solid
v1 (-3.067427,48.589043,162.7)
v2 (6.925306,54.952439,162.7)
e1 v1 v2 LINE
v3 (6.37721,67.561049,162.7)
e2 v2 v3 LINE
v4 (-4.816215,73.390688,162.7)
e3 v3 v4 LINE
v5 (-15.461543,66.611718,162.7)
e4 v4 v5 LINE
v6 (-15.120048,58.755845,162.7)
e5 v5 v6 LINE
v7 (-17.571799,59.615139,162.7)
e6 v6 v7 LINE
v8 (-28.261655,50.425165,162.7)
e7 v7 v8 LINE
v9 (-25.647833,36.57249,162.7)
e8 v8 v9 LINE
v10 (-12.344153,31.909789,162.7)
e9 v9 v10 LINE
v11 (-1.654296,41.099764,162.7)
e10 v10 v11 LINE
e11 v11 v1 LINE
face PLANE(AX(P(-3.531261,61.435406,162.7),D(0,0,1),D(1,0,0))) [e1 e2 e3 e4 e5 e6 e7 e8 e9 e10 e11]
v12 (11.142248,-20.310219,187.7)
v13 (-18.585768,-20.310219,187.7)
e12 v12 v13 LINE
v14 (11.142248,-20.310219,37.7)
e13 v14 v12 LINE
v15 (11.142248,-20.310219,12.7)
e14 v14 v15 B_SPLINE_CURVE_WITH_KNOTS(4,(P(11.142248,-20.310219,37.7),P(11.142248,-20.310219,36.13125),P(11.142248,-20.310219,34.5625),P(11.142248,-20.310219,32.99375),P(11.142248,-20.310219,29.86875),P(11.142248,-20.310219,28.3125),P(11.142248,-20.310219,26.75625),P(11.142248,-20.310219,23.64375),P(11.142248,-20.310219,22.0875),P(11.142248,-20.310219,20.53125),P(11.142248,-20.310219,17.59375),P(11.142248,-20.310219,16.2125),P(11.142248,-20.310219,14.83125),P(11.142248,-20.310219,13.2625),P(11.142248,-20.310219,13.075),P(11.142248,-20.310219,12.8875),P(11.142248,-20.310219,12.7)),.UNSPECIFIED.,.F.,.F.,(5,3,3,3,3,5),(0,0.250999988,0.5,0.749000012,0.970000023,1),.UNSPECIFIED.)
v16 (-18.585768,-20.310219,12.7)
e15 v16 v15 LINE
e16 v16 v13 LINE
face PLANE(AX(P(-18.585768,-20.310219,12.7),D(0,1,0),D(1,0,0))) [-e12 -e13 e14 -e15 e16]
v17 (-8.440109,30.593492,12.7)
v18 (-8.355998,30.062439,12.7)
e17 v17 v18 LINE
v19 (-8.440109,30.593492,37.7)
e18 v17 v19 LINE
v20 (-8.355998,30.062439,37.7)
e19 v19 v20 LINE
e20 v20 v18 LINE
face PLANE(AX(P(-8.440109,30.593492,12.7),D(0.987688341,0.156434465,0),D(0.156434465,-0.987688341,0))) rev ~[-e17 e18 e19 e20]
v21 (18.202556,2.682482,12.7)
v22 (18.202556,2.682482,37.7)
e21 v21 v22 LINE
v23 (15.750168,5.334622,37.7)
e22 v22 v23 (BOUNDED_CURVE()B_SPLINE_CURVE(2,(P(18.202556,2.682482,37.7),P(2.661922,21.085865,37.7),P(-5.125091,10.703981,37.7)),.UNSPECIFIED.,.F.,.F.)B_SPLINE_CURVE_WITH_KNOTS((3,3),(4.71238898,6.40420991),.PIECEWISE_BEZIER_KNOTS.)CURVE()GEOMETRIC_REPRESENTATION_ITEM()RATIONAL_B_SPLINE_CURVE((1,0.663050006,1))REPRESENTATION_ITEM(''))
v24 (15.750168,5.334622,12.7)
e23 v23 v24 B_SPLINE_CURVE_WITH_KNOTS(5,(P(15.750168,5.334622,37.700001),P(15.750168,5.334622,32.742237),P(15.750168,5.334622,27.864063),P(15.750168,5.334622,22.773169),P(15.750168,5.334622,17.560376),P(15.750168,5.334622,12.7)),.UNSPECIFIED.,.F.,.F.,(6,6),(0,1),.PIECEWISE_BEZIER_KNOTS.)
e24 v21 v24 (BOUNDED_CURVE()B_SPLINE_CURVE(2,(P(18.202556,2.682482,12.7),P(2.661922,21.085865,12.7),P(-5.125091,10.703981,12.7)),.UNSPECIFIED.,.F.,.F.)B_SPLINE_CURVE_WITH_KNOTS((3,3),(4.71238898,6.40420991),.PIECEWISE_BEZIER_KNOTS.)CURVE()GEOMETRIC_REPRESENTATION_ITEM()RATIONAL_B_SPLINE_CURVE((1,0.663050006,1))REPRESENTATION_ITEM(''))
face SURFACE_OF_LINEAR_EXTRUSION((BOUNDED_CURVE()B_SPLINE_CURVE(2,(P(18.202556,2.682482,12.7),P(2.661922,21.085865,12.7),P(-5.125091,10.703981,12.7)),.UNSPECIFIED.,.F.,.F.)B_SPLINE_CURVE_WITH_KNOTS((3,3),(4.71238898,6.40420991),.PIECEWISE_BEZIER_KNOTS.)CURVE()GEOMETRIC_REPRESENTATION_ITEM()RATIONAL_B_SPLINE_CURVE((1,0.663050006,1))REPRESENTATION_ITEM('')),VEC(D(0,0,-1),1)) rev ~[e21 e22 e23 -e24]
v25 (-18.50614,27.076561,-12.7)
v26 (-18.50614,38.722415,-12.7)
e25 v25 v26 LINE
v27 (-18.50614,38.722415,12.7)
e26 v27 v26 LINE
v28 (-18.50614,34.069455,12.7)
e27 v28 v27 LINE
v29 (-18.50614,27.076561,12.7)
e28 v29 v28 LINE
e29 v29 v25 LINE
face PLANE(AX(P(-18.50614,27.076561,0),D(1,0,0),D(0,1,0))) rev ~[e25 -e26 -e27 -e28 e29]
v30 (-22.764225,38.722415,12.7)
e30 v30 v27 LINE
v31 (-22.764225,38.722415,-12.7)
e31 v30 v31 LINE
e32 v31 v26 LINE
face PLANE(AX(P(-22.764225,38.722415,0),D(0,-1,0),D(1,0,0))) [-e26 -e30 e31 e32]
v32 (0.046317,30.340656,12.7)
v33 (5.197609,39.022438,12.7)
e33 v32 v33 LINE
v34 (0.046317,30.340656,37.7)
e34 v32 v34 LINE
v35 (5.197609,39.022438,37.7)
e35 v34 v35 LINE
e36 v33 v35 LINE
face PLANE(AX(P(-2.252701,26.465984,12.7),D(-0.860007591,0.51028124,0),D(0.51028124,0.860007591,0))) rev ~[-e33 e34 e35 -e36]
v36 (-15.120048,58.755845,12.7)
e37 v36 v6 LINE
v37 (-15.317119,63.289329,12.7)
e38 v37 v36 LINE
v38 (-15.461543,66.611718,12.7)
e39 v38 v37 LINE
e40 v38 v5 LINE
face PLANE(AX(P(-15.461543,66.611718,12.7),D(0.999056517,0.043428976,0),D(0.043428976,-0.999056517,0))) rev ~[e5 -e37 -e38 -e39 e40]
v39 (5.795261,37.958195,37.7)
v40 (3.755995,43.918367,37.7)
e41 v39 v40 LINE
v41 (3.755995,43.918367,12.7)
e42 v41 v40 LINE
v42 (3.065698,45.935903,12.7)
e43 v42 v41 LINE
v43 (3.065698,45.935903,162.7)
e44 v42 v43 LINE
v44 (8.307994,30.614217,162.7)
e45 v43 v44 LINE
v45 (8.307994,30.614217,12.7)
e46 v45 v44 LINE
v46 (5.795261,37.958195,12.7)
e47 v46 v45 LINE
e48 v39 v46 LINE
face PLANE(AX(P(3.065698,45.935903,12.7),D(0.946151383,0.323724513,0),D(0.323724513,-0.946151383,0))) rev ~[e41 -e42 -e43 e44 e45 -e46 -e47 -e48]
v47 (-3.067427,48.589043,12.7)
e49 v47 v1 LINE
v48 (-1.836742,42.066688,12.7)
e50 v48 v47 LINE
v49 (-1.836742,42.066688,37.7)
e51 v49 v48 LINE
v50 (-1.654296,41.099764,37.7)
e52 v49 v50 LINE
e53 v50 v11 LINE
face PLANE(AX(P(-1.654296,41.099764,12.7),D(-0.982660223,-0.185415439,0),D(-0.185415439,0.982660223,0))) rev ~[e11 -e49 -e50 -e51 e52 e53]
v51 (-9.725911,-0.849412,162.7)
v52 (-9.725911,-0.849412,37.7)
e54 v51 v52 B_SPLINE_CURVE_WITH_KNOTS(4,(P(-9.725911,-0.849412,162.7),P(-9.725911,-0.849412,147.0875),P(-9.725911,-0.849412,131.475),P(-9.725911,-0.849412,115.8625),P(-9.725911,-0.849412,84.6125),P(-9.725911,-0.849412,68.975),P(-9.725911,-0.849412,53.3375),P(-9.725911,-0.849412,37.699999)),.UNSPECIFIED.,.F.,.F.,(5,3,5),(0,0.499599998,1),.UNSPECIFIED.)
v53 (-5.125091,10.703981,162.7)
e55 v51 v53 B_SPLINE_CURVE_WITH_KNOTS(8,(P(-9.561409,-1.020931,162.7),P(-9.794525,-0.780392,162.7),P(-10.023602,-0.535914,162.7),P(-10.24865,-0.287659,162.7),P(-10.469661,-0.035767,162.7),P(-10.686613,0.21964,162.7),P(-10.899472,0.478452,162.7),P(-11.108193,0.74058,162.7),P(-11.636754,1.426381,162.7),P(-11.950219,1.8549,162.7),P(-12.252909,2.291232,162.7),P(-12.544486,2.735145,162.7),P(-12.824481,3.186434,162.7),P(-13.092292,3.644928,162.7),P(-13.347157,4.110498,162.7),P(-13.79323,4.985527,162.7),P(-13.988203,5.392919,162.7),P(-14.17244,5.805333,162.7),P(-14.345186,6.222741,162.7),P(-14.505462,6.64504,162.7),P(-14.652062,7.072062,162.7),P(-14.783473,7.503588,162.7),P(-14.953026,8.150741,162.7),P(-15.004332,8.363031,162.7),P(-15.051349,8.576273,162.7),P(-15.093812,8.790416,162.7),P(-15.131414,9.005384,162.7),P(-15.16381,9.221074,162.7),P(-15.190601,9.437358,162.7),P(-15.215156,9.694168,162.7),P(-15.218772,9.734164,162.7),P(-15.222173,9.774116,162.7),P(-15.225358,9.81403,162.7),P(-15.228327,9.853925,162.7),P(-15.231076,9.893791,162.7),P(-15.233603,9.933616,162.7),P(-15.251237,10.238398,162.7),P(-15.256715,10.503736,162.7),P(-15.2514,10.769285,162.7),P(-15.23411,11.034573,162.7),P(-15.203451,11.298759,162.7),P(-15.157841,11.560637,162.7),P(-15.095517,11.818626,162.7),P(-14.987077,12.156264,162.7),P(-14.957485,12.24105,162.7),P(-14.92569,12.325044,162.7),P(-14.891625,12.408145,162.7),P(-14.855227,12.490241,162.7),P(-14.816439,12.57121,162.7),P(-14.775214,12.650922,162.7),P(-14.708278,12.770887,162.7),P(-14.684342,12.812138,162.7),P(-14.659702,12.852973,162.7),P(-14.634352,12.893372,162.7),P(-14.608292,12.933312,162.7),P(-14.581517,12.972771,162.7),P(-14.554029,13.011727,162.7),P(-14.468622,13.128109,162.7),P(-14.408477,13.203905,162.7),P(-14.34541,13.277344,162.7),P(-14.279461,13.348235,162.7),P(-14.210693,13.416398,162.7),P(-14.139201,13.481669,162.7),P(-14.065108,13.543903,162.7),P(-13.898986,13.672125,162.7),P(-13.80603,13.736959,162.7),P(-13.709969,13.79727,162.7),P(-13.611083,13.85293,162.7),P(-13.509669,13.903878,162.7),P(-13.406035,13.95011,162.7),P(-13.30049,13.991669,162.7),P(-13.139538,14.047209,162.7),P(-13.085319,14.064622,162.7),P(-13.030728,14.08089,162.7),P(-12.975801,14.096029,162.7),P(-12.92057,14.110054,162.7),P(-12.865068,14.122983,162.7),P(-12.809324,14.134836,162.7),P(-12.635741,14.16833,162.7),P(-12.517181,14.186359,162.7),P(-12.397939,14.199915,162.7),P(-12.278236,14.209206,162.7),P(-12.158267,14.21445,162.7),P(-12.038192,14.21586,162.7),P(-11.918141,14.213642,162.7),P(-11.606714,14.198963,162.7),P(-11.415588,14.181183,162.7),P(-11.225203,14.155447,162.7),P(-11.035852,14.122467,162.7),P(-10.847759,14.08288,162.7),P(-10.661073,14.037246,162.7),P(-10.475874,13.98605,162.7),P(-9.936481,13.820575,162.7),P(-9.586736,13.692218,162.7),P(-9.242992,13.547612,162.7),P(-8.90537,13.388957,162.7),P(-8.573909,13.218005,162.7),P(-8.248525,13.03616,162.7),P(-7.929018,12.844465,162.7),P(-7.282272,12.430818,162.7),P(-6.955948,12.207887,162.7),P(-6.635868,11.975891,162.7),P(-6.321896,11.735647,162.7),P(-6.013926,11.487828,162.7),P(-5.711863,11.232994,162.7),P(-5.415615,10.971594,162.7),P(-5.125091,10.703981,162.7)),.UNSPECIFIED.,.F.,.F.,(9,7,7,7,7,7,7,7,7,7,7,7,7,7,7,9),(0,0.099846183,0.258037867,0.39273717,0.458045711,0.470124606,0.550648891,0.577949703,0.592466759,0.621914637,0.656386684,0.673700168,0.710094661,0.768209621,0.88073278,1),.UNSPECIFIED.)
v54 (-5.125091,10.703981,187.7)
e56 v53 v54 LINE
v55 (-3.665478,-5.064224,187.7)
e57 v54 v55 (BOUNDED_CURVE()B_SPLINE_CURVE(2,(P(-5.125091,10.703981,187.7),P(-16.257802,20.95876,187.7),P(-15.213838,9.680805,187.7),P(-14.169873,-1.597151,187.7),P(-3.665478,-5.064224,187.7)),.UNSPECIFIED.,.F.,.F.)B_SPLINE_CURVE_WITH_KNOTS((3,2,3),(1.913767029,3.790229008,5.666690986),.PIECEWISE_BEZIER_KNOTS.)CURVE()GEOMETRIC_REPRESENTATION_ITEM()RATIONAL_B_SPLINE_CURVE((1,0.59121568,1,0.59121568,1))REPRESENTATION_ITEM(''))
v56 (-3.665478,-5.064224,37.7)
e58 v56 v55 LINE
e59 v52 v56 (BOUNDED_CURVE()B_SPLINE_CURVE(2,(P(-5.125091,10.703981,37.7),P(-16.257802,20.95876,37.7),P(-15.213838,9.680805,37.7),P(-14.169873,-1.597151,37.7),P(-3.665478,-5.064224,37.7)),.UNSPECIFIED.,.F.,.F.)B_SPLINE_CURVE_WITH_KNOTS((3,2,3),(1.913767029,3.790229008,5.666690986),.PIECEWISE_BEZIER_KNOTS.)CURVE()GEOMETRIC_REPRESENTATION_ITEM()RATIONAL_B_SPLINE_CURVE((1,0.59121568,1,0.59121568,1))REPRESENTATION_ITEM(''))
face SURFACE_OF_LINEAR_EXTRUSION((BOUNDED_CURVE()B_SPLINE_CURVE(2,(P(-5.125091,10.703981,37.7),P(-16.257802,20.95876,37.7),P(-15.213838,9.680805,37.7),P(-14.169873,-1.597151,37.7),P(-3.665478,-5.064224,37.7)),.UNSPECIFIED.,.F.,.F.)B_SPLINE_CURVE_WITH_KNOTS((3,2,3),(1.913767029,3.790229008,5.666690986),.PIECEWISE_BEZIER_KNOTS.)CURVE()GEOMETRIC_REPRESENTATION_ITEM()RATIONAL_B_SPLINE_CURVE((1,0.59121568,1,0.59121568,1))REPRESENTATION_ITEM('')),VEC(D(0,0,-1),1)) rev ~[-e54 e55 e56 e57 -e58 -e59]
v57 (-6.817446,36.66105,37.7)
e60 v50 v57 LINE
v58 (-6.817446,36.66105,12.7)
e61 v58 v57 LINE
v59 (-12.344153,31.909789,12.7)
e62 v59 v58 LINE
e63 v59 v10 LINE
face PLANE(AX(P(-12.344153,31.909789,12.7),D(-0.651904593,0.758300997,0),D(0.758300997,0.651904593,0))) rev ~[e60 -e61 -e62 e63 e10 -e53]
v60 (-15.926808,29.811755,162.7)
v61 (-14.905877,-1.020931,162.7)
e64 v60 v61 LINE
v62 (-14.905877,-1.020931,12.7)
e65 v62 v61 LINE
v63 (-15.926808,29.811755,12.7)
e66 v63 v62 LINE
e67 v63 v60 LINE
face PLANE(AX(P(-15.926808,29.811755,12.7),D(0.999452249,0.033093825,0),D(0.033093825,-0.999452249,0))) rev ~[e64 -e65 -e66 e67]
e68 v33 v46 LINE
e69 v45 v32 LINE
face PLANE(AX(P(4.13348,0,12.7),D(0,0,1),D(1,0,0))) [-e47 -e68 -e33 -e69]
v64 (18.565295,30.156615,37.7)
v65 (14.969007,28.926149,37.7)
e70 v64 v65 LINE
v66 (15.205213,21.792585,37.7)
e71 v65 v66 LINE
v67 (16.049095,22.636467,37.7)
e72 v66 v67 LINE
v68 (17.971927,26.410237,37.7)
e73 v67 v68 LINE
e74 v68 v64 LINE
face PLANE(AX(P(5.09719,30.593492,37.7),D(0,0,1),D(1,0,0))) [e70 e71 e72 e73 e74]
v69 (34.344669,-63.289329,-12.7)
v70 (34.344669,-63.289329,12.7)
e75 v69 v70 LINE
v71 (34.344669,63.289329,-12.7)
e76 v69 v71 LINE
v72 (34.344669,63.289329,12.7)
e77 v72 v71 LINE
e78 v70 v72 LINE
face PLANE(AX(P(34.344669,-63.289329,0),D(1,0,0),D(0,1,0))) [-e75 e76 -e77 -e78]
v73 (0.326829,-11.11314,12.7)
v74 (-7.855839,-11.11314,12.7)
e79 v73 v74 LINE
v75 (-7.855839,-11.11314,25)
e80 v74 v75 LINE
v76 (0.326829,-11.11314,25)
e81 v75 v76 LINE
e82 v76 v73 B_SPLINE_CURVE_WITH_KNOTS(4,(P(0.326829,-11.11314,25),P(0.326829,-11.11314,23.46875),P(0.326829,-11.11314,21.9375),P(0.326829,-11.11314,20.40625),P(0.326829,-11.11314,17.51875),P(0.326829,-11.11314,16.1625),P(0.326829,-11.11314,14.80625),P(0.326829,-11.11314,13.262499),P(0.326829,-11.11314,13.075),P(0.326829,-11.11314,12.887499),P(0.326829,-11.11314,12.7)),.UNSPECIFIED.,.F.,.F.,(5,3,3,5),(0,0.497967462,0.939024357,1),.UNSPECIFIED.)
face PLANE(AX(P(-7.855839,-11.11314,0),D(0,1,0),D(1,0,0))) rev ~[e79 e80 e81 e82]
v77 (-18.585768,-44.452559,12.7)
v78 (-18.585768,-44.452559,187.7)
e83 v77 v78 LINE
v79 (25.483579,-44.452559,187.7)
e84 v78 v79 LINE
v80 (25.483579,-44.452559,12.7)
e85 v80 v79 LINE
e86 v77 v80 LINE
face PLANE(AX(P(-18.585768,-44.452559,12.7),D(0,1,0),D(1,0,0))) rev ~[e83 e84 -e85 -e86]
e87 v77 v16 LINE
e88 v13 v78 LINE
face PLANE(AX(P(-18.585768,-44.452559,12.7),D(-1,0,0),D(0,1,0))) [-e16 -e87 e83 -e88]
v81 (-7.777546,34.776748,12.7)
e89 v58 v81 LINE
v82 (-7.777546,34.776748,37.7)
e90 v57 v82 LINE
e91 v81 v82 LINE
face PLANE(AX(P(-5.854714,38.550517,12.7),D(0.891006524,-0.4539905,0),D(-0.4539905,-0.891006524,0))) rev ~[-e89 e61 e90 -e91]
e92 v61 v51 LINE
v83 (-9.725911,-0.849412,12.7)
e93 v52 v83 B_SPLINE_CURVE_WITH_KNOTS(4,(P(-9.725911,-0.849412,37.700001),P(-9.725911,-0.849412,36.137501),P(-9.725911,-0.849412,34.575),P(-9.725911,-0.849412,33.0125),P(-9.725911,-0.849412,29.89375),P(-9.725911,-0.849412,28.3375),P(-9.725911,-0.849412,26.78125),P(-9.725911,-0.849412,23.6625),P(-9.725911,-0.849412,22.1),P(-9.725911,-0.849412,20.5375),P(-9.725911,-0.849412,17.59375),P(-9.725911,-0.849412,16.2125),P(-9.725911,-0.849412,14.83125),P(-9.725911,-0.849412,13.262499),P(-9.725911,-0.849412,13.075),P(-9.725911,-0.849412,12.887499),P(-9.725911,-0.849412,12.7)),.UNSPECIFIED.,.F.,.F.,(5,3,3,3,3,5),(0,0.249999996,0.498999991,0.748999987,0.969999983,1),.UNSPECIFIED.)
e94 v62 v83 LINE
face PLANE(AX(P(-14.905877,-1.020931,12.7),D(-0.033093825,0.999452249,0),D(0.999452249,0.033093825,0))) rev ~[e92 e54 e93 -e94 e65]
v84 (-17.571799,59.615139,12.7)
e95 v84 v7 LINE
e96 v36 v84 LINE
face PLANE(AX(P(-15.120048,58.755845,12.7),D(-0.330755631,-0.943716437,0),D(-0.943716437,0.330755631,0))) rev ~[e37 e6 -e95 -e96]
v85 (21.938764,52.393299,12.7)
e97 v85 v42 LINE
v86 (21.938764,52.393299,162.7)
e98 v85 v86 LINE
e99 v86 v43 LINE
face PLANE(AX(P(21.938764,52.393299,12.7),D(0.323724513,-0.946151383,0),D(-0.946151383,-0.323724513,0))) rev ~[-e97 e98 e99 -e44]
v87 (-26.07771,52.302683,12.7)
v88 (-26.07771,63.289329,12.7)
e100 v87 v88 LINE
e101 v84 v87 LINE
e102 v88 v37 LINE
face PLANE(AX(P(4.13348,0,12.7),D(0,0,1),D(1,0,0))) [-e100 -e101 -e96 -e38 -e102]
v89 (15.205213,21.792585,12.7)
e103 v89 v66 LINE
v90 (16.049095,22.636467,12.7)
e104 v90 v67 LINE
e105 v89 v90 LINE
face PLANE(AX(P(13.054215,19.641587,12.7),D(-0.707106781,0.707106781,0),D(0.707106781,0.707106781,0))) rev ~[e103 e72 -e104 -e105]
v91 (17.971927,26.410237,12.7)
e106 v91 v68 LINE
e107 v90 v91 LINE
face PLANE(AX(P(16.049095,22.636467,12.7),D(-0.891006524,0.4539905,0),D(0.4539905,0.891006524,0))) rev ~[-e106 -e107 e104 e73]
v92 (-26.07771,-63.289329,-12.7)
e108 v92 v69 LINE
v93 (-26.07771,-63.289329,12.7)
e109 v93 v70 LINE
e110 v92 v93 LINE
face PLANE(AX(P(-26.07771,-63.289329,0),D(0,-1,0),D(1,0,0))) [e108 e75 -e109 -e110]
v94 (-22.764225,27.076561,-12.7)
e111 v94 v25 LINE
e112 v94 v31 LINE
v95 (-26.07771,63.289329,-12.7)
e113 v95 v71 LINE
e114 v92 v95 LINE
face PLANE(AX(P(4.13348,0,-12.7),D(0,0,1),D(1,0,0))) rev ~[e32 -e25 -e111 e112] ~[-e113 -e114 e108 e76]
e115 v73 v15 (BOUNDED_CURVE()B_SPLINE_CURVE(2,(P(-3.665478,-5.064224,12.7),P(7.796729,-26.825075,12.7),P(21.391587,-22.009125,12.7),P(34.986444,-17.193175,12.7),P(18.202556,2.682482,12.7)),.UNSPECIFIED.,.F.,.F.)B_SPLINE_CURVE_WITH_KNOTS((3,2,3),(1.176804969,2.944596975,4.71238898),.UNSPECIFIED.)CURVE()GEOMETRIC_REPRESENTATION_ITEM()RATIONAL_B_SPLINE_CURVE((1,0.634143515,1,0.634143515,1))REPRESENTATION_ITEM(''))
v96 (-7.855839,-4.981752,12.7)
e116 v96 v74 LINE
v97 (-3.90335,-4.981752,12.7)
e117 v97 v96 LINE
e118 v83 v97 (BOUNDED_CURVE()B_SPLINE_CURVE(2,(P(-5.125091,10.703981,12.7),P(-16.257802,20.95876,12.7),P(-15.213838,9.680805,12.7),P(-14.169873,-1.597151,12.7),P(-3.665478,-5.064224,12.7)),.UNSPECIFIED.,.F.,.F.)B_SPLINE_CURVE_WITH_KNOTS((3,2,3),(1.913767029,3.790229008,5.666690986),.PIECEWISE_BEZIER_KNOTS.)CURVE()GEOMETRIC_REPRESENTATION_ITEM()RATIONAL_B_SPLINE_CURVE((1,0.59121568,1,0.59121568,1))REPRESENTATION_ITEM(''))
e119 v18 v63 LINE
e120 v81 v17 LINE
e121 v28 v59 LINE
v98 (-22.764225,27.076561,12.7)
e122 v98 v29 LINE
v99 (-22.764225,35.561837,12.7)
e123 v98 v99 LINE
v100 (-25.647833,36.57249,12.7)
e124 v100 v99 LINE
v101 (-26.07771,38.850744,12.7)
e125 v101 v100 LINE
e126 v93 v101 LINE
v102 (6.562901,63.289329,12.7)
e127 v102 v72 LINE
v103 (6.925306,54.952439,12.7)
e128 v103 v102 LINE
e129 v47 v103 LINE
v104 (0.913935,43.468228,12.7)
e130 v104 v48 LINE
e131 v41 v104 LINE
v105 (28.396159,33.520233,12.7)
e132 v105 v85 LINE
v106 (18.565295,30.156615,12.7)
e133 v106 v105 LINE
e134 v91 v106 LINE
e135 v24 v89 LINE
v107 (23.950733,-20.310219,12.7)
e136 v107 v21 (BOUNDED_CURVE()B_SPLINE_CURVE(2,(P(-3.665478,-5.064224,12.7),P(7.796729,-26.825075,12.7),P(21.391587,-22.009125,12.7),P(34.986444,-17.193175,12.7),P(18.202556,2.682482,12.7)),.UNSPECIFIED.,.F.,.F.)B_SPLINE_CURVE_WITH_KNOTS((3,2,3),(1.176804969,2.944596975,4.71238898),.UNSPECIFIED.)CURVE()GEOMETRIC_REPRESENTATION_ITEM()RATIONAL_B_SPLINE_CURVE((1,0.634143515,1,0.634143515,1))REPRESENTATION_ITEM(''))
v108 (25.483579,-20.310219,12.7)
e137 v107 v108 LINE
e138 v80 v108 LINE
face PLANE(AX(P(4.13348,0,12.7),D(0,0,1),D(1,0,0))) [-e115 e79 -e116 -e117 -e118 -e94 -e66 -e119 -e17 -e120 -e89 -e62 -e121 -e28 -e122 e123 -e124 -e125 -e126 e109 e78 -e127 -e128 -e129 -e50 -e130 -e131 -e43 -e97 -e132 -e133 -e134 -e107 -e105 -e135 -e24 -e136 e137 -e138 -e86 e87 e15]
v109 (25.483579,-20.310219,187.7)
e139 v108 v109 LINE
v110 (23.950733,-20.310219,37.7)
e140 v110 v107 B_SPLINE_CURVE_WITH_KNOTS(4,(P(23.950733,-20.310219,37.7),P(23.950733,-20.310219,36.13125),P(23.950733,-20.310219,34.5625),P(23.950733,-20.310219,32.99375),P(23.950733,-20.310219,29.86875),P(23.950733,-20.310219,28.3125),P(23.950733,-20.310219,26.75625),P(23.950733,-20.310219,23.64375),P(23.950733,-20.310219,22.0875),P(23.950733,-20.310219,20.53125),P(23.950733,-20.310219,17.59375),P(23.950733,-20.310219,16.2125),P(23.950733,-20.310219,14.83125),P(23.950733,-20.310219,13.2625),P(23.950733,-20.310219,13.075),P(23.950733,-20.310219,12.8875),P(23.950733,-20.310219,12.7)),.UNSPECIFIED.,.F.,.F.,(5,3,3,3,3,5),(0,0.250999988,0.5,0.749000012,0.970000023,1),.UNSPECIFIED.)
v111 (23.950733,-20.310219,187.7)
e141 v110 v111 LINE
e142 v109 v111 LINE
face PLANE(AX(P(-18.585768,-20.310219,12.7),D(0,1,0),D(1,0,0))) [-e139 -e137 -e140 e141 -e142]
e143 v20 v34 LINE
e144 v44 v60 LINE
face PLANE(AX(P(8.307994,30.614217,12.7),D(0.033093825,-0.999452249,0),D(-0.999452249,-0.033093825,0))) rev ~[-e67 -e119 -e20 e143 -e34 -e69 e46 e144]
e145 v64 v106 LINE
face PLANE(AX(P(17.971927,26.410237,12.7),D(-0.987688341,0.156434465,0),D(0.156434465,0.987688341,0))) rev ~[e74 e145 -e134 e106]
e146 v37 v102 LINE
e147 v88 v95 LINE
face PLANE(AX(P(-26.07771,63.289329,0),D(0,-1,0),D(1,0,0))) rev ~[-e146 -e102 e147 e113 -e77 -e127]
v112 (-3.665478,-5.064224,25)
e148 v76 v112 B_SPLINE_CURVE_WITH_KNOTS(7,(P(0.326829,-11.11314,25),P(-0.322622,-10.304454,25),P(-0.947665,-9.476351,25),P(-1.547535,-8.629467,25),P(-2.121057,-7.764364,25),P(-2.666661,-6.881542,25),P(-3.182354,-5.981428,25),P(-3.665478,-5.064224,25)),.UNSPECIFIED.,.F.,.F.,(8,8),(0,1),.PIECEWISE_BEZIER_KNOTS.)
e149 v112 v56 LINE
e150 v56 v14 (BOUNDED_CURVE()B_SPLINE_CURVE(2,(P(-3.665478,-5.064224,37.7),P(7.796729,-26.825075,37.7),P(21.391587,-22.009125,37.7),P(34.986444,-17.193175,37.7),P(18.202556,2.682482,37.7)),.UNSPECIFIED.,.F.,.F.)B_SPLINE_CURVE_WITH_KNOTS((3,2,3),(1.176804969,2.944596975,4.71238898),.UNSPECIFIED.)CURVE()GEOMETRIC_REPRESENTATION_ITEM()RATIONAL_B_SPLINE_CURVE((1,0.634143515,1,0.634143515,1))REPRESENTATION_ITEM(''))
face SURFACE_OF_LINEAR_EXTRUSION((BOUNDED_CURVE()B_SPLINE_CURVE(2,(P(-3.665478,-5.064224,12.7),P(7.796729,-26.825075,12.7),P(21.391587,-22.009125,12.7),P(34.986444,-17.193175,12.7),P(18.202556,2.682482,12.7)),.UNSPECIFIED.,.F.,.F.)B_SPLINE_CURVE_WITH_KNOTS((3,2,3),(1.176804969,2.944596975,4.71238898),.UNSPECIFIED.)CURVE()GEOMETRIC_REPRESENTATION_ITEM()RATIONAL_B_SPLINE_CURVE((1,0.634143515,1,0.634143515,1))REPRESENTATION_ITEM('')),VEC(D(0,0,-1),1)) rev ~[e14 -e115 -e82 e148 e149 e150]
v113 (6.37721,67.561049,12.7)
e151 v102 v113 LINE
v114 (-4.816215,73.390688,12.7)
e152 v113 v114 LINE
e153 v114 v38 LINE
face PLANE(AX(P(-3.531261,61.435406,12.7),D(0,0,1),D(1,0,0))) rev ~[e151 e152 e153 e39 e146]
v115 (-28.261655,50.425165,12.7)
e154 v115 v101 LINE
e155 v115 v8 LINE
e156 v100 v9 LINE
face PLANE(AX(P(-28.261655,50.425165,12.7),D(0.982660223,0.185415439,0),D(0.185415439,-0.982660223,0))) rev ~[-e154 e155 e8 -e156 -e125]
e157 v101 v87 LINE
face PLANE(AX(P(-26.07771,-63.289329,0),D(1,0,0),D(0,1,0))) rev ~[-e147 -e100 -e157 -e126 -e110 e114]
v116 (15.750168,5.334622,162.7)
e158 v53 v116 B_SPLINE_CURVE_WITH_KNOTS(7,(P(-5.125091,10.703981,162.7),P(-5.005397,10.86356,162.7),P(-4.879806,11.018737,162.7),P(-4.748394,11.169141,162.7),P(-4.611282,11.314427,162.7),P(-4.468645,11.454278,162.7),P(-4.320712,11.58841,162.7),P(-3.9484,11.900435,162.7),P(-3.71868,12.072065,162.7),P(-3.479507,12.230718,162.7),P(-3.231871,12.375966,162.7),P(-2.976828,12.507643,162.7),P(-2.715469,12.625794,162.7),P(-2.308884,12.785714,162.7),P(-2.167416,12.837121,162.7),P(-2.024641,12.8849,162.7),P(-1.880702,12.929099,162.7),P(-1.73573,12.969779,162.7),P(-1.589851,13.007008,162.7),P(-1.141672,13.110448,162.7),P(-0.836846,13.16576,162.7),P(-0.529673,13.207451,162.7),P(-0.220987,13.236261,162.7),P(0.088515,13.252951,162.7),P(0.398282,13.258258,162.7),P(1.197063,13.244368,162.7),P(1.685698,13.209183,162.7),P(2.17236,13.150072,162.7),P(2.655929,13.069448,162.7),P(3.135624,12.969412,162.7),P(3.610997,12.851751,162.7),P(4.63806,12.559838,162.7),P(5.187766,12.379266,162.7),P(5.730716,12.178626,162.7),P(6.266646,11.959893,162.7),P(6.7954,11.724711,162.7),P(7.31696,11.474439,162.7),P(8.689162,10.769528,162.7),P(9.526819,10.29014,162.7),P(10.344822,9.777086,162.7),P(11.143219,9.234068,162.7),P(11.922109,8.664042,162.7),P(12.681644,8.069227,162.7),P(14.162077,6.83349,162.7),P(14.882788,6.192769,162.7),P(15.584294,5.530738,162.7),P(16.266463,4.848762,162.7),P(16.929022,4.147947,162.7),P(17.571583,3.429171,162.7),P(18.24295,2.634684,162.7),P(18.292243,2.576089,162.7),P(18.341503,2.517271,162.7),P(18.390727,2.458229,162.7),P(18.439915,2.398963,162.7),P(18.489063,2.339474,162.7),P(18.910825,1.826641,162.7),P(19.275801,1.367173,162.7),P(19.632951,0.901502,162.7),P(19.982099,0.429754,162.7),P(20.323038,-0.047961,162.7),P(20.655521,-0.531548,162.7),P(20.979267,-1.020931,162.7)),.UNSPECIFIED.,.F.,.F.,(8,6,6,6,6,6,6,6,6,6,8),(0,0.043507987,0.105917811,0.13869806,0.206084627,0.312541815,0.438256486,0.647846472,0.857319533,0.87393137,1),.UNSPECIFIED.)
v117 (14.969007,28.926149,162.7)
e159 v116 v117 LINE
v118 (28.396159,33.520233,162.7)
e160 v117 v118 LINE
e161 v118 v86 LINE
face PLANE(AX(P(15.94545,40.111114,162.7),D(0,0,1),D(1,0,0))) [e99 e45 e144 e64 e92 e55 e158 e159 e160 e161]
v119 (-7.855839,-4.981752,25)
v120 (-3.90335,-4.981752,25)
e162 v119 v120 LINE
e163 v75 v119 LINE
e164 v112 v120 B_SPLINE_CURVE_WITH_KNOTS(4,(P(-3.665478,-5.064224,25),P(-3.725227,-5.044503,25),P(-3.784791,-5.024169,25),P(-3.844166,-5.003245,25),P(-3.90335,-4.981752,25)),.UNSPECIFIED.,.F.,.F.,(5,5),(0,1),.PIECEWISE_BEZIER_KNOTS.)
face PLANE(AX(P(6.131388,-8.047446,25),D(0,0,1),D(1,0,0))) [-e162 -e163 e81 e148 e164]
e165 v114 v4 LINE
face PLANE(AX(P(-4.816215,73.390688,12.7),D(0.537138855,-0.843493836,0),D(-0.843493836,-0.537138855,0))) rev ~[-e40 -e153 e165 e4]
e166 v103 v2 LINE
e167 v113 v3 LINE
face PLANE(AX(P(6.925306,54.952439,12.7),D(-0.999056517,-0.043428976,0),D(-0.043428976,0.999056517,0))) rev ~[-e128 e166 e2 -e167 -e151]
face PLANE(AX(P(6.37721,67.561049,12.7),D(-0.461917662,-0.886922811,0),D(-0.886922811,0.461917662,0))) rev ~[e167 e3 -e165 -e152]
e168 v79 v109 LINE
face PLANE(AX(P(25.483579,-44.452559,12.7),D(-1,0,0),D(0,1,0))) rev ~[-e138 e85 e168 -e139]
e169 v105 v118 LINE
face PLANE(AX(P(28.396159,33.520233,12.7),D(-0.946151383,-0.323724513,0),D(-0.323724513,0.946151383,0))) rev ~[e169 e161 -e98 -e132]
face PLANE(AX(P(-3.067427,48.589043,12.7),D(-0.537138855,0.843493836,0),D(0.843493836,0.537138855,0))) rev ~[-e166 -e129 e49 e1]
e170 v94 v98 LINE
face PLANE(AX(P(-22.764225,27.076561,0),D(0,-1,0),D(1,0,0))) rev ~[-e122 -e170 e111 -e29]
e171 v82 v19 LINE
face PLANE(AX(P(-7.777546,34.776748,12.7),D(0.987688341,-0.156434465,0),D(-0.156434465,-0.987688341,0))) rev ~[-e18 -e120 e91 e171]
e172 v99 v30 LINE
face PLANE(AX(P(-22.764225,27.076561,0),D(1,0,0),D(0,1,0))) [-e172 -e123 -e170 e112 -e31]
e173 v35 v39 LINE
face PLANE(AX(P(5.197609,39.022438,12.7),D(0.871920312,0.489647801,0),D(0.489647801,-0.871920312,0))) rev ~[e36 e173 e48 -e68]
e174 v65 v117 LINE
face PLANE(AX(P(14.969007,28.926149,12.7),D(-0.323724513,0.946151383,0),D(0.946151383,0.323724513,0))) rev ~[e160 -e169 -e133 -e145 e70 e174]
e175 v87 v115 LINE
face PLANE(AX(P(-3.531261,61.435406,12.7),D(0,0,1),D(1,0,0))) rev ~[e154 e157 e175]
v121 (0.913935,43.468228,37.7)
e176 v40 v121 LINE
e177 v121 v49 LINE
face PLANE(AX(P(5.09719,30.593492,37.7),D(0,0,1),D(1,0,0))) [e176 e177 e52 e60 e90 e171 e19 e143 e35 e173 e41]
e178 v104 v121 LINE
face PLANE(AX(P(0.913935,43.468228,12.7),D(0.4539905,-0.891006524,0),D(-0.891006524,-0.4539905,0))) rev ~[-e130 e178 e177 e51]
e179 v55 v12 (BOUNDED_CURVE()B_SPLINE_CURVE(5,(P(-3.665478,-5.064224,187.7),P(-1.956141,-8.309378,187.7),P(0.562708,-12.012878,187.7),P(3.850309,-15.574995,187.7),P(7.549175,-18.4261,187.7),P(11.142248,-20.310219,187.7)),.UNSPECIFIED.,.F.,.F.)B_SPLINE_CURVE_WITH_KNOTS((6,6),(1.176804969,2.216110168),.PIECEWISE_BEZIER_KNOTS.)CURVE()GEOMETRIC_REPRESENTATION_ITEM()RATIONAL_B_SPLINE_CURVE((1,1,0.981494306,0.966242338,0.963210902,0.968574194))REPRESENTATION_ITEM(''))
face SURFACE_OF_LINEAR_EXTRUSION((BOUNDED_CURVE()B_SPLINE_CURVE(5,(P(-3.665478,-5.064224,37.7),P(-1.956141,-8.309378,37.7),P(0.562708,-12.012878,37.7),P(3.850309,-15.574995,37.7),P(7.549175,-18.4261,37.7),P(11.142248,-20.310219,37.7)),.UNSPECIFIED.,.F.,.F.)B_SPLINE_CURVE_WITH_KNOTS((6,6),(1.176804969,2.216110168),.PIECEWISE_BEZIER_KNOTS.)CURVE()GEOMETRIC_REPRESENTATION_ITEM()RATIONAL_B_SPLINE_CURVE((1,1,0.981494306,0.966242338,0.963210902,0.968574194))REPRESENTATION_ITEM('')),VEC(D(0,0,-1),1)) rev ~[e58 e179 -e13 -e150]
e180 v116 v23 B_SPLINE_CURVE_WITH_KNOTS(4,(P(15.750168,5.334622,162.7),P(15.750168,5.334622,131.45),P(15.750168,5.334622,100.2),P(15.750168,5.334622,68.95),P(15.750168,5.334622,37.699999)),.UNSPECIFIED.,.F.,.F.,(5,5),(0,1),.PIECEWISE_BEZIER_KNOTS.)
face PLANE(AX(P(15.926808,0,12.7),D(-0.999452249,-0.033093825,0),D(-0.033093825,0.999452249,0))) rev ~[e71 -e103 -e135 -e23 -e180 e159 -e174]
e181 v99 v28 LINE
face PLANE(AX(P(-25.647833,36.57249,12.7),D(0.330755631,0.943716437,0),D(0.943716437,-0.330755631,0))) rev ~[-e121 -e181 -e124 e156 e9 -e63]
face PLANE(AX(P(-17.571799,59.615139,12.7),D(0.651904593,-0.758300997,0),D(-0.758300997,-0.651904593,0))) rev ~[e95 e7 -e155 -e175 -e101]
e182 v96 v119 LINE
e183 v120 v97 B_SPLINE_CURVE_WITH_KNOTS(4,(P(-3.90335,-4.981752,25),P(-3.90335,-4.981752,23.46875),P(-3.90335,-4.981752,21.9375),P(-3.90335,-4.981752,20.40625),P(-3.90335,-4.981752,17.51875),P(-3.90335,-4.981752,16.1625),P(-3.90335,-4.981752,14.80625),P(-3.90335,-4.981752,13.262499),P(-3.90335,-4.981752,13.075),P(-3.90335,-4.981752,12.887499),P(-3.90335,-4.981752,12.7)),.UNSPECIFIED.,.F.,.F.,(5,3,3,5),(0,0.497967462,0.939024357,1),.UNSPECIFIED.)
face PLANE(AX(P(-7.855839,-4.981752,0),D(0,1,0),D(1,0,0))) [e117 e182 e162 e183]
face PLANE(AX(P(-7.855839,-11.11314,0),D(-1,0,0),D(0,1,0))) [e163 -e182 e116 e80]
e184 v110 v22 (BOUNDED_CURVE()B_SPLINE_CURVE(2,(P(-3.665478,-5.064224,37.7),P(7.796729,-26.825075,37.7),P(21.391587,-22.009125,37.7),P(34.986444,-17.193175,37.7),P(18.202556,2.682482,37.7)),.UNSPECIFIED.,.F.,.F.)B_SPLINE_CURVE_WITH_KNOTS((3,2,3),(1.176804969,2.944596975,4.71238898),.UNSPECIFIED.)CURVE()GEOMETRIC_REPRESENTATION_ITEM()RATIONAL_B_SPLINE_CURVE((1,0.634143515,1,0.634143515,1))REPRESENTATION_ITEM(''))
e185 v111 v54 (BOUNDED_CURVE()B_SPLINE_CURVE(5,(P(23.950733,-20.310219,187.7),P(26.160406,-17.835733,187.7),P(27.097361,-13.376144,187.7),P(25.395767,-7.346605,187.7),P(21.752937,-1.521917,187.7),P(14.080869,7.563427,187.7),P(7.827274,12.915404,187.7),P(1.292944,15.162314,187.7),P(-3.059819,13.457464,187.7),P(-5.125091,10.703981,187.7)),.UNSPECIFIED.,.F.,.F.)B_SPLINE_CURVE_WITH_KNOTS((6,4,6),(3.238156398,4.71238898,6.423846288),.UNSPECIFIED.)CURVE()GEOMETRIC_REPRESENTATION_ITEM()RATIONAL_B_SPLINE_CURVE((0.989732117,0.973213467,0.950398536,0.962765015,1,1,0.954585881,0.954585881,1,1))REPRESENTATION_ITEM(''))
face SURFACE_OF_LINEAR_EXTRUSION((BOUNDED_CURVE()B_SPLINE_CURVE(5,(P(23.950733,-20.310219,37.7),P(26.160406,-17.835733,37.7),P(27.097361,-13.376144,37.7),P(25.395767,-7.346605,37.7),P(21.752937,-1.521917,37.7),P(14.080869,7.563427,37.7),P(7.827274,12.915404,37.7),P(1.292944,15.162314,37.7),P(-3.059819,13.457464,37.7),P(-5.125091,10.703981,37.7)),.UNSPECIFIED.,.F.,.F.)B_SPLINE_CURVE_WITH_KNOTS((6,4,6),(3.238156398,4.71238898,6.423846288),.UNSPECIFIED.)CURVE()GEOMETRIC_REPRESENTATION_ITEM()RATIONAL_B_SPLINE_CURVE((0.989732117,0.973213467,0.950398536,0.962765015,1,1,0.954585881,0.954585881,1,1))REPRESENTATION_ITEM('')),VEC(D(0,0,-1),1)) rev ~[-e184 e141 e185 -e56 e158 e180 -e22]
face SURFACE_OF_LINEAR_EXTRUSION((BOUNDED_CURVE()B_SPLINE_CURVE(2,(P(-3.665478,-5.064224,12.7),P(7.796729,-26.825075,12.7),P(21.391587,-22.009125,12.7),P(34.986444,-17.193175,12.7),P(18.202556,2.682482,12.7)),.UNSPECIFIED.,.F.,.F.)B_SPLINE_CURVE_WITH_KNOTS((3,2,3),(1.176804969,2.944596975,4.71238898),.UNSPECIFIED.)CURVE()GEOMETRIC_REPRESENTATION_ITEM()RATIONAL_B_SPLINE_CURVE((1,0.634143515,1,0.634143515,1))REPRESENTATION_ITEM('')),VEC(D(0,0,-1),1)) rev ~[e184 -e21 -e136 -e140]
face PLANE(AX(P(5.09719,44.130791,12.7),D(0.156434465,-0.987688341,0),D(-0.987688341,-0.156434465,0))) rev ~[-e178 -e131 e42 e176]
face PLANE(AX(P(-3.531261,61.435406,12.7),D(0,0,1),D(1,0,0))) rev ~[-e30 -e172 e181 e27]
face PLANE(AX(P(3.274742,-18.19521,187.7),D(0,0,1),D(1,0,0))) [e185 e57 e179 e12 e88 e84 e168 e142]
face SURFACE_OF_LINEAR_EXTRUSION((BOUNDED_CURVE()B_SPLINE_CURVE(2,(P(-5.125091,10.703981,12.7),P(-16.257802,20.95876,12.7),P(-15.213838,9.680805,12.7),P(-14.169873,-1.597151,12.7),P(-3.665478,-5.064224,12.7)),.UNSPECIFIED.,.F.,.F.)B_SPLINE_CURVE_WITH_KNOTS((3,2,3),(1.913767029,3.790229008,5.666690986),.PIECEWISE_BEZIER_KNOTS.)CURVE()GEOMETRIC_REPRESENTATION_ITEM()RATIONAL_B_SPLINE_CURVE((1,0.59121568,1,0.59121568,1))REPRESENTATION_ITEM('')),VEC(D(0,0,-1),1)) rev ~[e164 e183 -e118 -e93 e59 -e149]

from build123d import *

# Parameters (mm, degrees)
F0_W      = 60.4223795235
F0_H      = 126.5786588192
F0_W_2    = 4.2580850422
F0_H_2    = 11.6458535194
F1_DEPTH  = 12.7
F4_DEPTH  = 25
F5_W      = 44.0693465061
F5_H      = 24.1423398256
F6_DEPTH  = 25
F7_W      = 27.9744537547
F7_H      = 6.1313877814
F8_DEPTH  = 25
F10_DEPTH = 25
F13_DEPTH = 150


with BuildPart() as f1:
    # F0 (on Top) → F1 (new body, symmetric)
    with BuildSketch(Plane.XY):
        with Locations((4.1334796697, 0)):
            Rectangle(F0_W, F0_H)
        with Locations((-20.6351820379, 32.8994877636)):
            Rectangle(F0_W_2, F0_H_2, mode=Mode.SUBTRACT)
    extrude(amount=F1_DEPTH, both=True)

    # F3 (on face) → F4 (join)
    with BuildSketch(Plane.XY.offset(12.7)):
        Polygon((9.2804457981, 43.4682284111), (5.0971903838, 44.1307909787), (0.9139349695, 43.4682284111), (-2.8598342584, 41.545396949), (-5.8547144745, 38.5505167329), (-7.7775459366, 34.776747505), (-8.4401085041, 30.5934920907), (-7.7775459366, 26.4102366764), (-5.8547144745, 22.6364674485), (-2.8598342584, 19.6415872324), (0.9139349695, 17.7187557703), (5.0971903838, 17.0561932027), (9.2804457981, 17.7187557703), (13.054215026, 19.6415872324), (16.0490952421, 22.6364674485), (17.9719267043, 26.4102366764), (18.6344892718, 30.5934920907), (17.9719267043, 34.776747505), (16.0490952421, 38.5505167329), (13.054215026, 41.545396949), align=None)
        Polygon((-2.2527005044, 26.4659842643), (5.197609196, 39.0224382281), (12.3466624599, 26.2920537797), align=None, mode=Mode.SUBTRACT)
    extrude(amount=F4_DEPTH)

    # F5 (on face) → F6 (join)
    with BuildSketch(Plane.XY.offset(12.7)):
        with Locations((3.4489056561, -32.3813892901)):
            Rectangle(F5_W, F5_H)
    extrude(amount=F6_DEPTH)

    # F7 (on Top) → F8 (join)
    with BuildSketch(Plane.XY):
        with Locations((6.1313877814, -8.0474459101)):
            Rectangle(F7_W, F7_H)
    extrude(amount=F8_DEPTH)

    # F9 (on face) → F10 (join)
    with BuildSketch(Plane.XY.offset(12.7)):
        with BuildLine():
            add(Edge.make_bspline(
                [(-3.6654782741, -5.0642236167), (-1.2137473257, -5.8734401187), (0.1916065812, -4.7901463695)],
                knots=[5.6666909862, 5.6666909862, 5.6666909862, 6.2831853072, 6.2831853072, 6.2831853072], degree=2, weights=[1, 0.9528668255, 1]))
            add(Edge.make_bspline(
                [(0.1916065812, -4.7901463695), (6.4545371904, 0.0375298105), (-5.1250907994, 10.7039809585)],
                knots=[0, 0, 0, 1.9137670292, 1.9137670292, 1.9137670292], degree=2, weights=[1, 0.5760701954, 1]))
            add(Edge.make_bspline(
                [(-5.1250907994, 10.7039809585), (-9.1468374458, 5.3420650054), (-3.6654782741, -5.0642236167)],
                knots=[0.1210246027, 0.1210246027, 0.1210246027, 1.1768049687, 1.1768049687, 1.1768049687], degree=2, weights=[1, 0.8638717322, 1]))
        make_face()
        with BuildLine():
            add(Edge.make_bspline(
                [(0.1916065812, -4.7901463695), (6.4545371904, 0.0375298105), (-5.1250907994, 10.7039809585)],
                knots=[0, 0, 0, 1.9137670292, 1.9137670292, 1.9137670292], degree=2, weights=[1, 0.5760701954, 1]))
            add(Edge.make_bspline(
                [(-3.6654782741, -5.0642236167), (-1.2137473257, -5.8734401187), (0.1916065812, -4.7901463695)],
                knots=[5.6666909862, 5.6666909862, 5.6666909862, 6.2831853072, 6.2831853072, 6.2831853072], degree=2, weights=[1, 0.9528668255, 1]))
            add(Edge.make_bspline(
                [(-3.6654782741, -5.0642236167), (7.7967294339, -26.8250748804), (21.3915865986, -22.0091251639), (34.9864437633, -17.1931754474), (18.2025562972, 2.6824818924)],
                knots=[1.1768049687, 1.1768049687, 1.1768049687, 2.9445969746, 2.9445969746, 4.7123889804, 4.7123889804, 4.7123889804], degree=2, weights=[1, 0.6341435153, 1, 0.6341435153, 1]))
            add(Edge.make_bspline(
                [(18.2025562972, 2.6824818924), (2.66192218, 21.0858654459), (-5.1250907994, 10.7039809585)],
                knots=[4.7123889804, 4.7123889804, 4.7123889804, 6.4042099098, 6.4042099098, 6.4042099098], degree=2, weights=[1, 0.6630500062, 1]))
        make_face()
        with BuildLine():
            add(Edge.make_bspline(
                [(-5.1250907994, 10.7039809585), (-9.1468374458, 5.3420650054), (-3.6654782741, -5.0642236167)],
                knots=[0.1210246027, 0.1210246027, 0.1210246027, 1.1768049687, 1.1768049687, 1.1768049687], degree=2, weights=[1, 0.8638717322, 1]))
            add(Edge.make_bspline(
                [(-5.1250907994, 10.7039809585), (-16.2578023137, 20.958759749), (-15.2138378826, 9.6808045144), (-14.1698734514, -1.5971507202), (-3.6654782741, -5.0642236167)],
                knots=[1.9137670292, 1.9137670292, 1.9137670292, 3.7902290077, 3.7902290077, 5.6666909862, 5.6666909862, 5.6666909862], degree=2, weights=[1, 0.5912156804, 1, 0.5912156804, 1]))
        make_face()
    extrude(amount=F10_DEPTH)

    # F12 (on face) + F10_face (on face) → F13 (join)
    with BuildSketch(Plane.XY.offset(12.7)):
        Polygon((-15.1200483821, 58.7558450371), (-4.268118646, 54.9524389207), (-3.0674270983, 48.5890431418), (6.9253058173, 54.9524389207), (6.3772096892, 67.5610487277), (-4.8162147741, 73.3906884605), (-15.4615431093, 66.6117183864), align=None)
        Polygon((-3.0674270983, 48.5890431418), (-4.268118646, 54.9524389207), (-15.1200483821, 58.7558450371), (-14.9134469812, 54.0031085795), (-3.7200225179, 48.1734688466), align=None)
        Polygon((-1.6542957296, 41.0997639807), (-3.0674270983, 48.5890431418), (-3.7200225179, 48.1734688466), (-14.9134469812, 54.0031085795), (-15.1200483821, 58.7558450371), (-17.5717985126, 59.6151393441), (-28.2616554628, 50.4251648275), (-25.6478325464, 36.5724898875), (-12.3441526798, 31.9097894641), align=None)
        Polygon((28.3961594105, 33.5202328861), (21.9387635589, 52.3932985961), (3.0656978488, 45.9359027445), (8.3079936012, 30.6142166531), (14.9058774114, 30.8326855302), (14.9690065658, 28.9261493169), align=None)
        Polygon((15.9268081188, 0), (14.9690065658, 28.9261493169), (9.5230937004, 27.0628370345), (8.3079936012, 30.6142166531), (-15.9268081188, 29.8117548227), (-14.9058774114, -1.0209307075), align=None)
        Polygon((9.5230937004, 27.0628370345), (14.9690065658, 28.9261493169), (14.9058774114, 30.8326855302), (8.3079936012, 30.6142166531), align=None)
    with BuildSketch(Plane(origin=(4.9113998877, -19.1714286629, 37.7), x_dir=(1, 0, 0), z_dir=(0, 0, 1))):
        with BuildLine():
            Line((20.5721790215, -25.2811305401), (20.5721790215, -1.1387907144))
            Line((20.5721790215, -1.1387907144), (19.0393327914, -1.1387907144))
            add(Edge.make_bspline(
                [(19.0393327914, -1.1387907144), (21.2490059306, 1.3356954103), (22.1859609961, 5.7952845742), (20.4843675369, 11.8248238632), (16.8415372864, 17.6495119094), (9.1694693906, 26.7348559867), (2.9158744634, 32.08683227), (-3.618455925, 34.3337423373), (-7.9712190855, 32.6288930507), (-10.0364906871, 29.8754096213)],
                knots=[3.2381563984, 3.2381563984, 3.2381563984, 3.2381563984, 3.2381563984, 3.2381563984, 4.7123889804, 4.7123889804, 4.7123889804, 4.7123889804, 6.4238462878, 6.4238462878, 6.4238462878, 6.4238462878, 6.4238462878, 6.4238462878], degree=5, weights=[0.9897321171, 0.9732134667, 0.9503985365, 0.9627650148, 1, 1, 0.9545858807, 0.9545858807, 1, 1]))
            add(Edge.make_bspline(
                [(-10.0364906871, 29.8754096213), (-21.1692022014, 40.1301884118), (-20.1252377703, 28.8522331772), (-19.0812733391, 17.5742779427), (-8.5768781618, 14.1072050461)],
                knots=[1.9137670292, 1.9137670292, 1.9137670292, 3.7902290077, 3.7902290077, 5.6666909862, 5.6666909862, 5.6666909862], degree=2, weights=[1, 0.5912156804, 1, 0.5912156804, 1]))
            add(Edge.make_bspline(
                [(-8.5768781618, 14.1072050461), (-6.867540918, 10.8620506684), (-4.3486920685, 7.1585507312), (-1.0610908327, 3.5964338438), (2.6377751049, 0.7453286942), (6.2308483777, -1.1387907144)],
                knots=[1.1768049687, 1.1768049687, 1.1768049687, 1.1768049687, 1.1768049687, 1.1768049687, 2.2161101678, 2.2161101678, 2.2161101678, 2.2161101678, 2.2161101678, 2.2161101678], degree=5, weights=[1, 1, 0.9814943061, 0.9662423378, 0.9632109021, 0.968574194]))
            Line((6.2308483777, -1.1387907144), (-23.4971674847, -1.1387907144))
            Line((-23.4971674847, -1.1387907144), (-23.4971674847, -25.2811305401))
            Line((-23.4971674847, -25.2811305401), (20.5721790215, -25.2811305401))
        make_face()
    extrude(amount=F13_DEPTH)


solid = f1.part
